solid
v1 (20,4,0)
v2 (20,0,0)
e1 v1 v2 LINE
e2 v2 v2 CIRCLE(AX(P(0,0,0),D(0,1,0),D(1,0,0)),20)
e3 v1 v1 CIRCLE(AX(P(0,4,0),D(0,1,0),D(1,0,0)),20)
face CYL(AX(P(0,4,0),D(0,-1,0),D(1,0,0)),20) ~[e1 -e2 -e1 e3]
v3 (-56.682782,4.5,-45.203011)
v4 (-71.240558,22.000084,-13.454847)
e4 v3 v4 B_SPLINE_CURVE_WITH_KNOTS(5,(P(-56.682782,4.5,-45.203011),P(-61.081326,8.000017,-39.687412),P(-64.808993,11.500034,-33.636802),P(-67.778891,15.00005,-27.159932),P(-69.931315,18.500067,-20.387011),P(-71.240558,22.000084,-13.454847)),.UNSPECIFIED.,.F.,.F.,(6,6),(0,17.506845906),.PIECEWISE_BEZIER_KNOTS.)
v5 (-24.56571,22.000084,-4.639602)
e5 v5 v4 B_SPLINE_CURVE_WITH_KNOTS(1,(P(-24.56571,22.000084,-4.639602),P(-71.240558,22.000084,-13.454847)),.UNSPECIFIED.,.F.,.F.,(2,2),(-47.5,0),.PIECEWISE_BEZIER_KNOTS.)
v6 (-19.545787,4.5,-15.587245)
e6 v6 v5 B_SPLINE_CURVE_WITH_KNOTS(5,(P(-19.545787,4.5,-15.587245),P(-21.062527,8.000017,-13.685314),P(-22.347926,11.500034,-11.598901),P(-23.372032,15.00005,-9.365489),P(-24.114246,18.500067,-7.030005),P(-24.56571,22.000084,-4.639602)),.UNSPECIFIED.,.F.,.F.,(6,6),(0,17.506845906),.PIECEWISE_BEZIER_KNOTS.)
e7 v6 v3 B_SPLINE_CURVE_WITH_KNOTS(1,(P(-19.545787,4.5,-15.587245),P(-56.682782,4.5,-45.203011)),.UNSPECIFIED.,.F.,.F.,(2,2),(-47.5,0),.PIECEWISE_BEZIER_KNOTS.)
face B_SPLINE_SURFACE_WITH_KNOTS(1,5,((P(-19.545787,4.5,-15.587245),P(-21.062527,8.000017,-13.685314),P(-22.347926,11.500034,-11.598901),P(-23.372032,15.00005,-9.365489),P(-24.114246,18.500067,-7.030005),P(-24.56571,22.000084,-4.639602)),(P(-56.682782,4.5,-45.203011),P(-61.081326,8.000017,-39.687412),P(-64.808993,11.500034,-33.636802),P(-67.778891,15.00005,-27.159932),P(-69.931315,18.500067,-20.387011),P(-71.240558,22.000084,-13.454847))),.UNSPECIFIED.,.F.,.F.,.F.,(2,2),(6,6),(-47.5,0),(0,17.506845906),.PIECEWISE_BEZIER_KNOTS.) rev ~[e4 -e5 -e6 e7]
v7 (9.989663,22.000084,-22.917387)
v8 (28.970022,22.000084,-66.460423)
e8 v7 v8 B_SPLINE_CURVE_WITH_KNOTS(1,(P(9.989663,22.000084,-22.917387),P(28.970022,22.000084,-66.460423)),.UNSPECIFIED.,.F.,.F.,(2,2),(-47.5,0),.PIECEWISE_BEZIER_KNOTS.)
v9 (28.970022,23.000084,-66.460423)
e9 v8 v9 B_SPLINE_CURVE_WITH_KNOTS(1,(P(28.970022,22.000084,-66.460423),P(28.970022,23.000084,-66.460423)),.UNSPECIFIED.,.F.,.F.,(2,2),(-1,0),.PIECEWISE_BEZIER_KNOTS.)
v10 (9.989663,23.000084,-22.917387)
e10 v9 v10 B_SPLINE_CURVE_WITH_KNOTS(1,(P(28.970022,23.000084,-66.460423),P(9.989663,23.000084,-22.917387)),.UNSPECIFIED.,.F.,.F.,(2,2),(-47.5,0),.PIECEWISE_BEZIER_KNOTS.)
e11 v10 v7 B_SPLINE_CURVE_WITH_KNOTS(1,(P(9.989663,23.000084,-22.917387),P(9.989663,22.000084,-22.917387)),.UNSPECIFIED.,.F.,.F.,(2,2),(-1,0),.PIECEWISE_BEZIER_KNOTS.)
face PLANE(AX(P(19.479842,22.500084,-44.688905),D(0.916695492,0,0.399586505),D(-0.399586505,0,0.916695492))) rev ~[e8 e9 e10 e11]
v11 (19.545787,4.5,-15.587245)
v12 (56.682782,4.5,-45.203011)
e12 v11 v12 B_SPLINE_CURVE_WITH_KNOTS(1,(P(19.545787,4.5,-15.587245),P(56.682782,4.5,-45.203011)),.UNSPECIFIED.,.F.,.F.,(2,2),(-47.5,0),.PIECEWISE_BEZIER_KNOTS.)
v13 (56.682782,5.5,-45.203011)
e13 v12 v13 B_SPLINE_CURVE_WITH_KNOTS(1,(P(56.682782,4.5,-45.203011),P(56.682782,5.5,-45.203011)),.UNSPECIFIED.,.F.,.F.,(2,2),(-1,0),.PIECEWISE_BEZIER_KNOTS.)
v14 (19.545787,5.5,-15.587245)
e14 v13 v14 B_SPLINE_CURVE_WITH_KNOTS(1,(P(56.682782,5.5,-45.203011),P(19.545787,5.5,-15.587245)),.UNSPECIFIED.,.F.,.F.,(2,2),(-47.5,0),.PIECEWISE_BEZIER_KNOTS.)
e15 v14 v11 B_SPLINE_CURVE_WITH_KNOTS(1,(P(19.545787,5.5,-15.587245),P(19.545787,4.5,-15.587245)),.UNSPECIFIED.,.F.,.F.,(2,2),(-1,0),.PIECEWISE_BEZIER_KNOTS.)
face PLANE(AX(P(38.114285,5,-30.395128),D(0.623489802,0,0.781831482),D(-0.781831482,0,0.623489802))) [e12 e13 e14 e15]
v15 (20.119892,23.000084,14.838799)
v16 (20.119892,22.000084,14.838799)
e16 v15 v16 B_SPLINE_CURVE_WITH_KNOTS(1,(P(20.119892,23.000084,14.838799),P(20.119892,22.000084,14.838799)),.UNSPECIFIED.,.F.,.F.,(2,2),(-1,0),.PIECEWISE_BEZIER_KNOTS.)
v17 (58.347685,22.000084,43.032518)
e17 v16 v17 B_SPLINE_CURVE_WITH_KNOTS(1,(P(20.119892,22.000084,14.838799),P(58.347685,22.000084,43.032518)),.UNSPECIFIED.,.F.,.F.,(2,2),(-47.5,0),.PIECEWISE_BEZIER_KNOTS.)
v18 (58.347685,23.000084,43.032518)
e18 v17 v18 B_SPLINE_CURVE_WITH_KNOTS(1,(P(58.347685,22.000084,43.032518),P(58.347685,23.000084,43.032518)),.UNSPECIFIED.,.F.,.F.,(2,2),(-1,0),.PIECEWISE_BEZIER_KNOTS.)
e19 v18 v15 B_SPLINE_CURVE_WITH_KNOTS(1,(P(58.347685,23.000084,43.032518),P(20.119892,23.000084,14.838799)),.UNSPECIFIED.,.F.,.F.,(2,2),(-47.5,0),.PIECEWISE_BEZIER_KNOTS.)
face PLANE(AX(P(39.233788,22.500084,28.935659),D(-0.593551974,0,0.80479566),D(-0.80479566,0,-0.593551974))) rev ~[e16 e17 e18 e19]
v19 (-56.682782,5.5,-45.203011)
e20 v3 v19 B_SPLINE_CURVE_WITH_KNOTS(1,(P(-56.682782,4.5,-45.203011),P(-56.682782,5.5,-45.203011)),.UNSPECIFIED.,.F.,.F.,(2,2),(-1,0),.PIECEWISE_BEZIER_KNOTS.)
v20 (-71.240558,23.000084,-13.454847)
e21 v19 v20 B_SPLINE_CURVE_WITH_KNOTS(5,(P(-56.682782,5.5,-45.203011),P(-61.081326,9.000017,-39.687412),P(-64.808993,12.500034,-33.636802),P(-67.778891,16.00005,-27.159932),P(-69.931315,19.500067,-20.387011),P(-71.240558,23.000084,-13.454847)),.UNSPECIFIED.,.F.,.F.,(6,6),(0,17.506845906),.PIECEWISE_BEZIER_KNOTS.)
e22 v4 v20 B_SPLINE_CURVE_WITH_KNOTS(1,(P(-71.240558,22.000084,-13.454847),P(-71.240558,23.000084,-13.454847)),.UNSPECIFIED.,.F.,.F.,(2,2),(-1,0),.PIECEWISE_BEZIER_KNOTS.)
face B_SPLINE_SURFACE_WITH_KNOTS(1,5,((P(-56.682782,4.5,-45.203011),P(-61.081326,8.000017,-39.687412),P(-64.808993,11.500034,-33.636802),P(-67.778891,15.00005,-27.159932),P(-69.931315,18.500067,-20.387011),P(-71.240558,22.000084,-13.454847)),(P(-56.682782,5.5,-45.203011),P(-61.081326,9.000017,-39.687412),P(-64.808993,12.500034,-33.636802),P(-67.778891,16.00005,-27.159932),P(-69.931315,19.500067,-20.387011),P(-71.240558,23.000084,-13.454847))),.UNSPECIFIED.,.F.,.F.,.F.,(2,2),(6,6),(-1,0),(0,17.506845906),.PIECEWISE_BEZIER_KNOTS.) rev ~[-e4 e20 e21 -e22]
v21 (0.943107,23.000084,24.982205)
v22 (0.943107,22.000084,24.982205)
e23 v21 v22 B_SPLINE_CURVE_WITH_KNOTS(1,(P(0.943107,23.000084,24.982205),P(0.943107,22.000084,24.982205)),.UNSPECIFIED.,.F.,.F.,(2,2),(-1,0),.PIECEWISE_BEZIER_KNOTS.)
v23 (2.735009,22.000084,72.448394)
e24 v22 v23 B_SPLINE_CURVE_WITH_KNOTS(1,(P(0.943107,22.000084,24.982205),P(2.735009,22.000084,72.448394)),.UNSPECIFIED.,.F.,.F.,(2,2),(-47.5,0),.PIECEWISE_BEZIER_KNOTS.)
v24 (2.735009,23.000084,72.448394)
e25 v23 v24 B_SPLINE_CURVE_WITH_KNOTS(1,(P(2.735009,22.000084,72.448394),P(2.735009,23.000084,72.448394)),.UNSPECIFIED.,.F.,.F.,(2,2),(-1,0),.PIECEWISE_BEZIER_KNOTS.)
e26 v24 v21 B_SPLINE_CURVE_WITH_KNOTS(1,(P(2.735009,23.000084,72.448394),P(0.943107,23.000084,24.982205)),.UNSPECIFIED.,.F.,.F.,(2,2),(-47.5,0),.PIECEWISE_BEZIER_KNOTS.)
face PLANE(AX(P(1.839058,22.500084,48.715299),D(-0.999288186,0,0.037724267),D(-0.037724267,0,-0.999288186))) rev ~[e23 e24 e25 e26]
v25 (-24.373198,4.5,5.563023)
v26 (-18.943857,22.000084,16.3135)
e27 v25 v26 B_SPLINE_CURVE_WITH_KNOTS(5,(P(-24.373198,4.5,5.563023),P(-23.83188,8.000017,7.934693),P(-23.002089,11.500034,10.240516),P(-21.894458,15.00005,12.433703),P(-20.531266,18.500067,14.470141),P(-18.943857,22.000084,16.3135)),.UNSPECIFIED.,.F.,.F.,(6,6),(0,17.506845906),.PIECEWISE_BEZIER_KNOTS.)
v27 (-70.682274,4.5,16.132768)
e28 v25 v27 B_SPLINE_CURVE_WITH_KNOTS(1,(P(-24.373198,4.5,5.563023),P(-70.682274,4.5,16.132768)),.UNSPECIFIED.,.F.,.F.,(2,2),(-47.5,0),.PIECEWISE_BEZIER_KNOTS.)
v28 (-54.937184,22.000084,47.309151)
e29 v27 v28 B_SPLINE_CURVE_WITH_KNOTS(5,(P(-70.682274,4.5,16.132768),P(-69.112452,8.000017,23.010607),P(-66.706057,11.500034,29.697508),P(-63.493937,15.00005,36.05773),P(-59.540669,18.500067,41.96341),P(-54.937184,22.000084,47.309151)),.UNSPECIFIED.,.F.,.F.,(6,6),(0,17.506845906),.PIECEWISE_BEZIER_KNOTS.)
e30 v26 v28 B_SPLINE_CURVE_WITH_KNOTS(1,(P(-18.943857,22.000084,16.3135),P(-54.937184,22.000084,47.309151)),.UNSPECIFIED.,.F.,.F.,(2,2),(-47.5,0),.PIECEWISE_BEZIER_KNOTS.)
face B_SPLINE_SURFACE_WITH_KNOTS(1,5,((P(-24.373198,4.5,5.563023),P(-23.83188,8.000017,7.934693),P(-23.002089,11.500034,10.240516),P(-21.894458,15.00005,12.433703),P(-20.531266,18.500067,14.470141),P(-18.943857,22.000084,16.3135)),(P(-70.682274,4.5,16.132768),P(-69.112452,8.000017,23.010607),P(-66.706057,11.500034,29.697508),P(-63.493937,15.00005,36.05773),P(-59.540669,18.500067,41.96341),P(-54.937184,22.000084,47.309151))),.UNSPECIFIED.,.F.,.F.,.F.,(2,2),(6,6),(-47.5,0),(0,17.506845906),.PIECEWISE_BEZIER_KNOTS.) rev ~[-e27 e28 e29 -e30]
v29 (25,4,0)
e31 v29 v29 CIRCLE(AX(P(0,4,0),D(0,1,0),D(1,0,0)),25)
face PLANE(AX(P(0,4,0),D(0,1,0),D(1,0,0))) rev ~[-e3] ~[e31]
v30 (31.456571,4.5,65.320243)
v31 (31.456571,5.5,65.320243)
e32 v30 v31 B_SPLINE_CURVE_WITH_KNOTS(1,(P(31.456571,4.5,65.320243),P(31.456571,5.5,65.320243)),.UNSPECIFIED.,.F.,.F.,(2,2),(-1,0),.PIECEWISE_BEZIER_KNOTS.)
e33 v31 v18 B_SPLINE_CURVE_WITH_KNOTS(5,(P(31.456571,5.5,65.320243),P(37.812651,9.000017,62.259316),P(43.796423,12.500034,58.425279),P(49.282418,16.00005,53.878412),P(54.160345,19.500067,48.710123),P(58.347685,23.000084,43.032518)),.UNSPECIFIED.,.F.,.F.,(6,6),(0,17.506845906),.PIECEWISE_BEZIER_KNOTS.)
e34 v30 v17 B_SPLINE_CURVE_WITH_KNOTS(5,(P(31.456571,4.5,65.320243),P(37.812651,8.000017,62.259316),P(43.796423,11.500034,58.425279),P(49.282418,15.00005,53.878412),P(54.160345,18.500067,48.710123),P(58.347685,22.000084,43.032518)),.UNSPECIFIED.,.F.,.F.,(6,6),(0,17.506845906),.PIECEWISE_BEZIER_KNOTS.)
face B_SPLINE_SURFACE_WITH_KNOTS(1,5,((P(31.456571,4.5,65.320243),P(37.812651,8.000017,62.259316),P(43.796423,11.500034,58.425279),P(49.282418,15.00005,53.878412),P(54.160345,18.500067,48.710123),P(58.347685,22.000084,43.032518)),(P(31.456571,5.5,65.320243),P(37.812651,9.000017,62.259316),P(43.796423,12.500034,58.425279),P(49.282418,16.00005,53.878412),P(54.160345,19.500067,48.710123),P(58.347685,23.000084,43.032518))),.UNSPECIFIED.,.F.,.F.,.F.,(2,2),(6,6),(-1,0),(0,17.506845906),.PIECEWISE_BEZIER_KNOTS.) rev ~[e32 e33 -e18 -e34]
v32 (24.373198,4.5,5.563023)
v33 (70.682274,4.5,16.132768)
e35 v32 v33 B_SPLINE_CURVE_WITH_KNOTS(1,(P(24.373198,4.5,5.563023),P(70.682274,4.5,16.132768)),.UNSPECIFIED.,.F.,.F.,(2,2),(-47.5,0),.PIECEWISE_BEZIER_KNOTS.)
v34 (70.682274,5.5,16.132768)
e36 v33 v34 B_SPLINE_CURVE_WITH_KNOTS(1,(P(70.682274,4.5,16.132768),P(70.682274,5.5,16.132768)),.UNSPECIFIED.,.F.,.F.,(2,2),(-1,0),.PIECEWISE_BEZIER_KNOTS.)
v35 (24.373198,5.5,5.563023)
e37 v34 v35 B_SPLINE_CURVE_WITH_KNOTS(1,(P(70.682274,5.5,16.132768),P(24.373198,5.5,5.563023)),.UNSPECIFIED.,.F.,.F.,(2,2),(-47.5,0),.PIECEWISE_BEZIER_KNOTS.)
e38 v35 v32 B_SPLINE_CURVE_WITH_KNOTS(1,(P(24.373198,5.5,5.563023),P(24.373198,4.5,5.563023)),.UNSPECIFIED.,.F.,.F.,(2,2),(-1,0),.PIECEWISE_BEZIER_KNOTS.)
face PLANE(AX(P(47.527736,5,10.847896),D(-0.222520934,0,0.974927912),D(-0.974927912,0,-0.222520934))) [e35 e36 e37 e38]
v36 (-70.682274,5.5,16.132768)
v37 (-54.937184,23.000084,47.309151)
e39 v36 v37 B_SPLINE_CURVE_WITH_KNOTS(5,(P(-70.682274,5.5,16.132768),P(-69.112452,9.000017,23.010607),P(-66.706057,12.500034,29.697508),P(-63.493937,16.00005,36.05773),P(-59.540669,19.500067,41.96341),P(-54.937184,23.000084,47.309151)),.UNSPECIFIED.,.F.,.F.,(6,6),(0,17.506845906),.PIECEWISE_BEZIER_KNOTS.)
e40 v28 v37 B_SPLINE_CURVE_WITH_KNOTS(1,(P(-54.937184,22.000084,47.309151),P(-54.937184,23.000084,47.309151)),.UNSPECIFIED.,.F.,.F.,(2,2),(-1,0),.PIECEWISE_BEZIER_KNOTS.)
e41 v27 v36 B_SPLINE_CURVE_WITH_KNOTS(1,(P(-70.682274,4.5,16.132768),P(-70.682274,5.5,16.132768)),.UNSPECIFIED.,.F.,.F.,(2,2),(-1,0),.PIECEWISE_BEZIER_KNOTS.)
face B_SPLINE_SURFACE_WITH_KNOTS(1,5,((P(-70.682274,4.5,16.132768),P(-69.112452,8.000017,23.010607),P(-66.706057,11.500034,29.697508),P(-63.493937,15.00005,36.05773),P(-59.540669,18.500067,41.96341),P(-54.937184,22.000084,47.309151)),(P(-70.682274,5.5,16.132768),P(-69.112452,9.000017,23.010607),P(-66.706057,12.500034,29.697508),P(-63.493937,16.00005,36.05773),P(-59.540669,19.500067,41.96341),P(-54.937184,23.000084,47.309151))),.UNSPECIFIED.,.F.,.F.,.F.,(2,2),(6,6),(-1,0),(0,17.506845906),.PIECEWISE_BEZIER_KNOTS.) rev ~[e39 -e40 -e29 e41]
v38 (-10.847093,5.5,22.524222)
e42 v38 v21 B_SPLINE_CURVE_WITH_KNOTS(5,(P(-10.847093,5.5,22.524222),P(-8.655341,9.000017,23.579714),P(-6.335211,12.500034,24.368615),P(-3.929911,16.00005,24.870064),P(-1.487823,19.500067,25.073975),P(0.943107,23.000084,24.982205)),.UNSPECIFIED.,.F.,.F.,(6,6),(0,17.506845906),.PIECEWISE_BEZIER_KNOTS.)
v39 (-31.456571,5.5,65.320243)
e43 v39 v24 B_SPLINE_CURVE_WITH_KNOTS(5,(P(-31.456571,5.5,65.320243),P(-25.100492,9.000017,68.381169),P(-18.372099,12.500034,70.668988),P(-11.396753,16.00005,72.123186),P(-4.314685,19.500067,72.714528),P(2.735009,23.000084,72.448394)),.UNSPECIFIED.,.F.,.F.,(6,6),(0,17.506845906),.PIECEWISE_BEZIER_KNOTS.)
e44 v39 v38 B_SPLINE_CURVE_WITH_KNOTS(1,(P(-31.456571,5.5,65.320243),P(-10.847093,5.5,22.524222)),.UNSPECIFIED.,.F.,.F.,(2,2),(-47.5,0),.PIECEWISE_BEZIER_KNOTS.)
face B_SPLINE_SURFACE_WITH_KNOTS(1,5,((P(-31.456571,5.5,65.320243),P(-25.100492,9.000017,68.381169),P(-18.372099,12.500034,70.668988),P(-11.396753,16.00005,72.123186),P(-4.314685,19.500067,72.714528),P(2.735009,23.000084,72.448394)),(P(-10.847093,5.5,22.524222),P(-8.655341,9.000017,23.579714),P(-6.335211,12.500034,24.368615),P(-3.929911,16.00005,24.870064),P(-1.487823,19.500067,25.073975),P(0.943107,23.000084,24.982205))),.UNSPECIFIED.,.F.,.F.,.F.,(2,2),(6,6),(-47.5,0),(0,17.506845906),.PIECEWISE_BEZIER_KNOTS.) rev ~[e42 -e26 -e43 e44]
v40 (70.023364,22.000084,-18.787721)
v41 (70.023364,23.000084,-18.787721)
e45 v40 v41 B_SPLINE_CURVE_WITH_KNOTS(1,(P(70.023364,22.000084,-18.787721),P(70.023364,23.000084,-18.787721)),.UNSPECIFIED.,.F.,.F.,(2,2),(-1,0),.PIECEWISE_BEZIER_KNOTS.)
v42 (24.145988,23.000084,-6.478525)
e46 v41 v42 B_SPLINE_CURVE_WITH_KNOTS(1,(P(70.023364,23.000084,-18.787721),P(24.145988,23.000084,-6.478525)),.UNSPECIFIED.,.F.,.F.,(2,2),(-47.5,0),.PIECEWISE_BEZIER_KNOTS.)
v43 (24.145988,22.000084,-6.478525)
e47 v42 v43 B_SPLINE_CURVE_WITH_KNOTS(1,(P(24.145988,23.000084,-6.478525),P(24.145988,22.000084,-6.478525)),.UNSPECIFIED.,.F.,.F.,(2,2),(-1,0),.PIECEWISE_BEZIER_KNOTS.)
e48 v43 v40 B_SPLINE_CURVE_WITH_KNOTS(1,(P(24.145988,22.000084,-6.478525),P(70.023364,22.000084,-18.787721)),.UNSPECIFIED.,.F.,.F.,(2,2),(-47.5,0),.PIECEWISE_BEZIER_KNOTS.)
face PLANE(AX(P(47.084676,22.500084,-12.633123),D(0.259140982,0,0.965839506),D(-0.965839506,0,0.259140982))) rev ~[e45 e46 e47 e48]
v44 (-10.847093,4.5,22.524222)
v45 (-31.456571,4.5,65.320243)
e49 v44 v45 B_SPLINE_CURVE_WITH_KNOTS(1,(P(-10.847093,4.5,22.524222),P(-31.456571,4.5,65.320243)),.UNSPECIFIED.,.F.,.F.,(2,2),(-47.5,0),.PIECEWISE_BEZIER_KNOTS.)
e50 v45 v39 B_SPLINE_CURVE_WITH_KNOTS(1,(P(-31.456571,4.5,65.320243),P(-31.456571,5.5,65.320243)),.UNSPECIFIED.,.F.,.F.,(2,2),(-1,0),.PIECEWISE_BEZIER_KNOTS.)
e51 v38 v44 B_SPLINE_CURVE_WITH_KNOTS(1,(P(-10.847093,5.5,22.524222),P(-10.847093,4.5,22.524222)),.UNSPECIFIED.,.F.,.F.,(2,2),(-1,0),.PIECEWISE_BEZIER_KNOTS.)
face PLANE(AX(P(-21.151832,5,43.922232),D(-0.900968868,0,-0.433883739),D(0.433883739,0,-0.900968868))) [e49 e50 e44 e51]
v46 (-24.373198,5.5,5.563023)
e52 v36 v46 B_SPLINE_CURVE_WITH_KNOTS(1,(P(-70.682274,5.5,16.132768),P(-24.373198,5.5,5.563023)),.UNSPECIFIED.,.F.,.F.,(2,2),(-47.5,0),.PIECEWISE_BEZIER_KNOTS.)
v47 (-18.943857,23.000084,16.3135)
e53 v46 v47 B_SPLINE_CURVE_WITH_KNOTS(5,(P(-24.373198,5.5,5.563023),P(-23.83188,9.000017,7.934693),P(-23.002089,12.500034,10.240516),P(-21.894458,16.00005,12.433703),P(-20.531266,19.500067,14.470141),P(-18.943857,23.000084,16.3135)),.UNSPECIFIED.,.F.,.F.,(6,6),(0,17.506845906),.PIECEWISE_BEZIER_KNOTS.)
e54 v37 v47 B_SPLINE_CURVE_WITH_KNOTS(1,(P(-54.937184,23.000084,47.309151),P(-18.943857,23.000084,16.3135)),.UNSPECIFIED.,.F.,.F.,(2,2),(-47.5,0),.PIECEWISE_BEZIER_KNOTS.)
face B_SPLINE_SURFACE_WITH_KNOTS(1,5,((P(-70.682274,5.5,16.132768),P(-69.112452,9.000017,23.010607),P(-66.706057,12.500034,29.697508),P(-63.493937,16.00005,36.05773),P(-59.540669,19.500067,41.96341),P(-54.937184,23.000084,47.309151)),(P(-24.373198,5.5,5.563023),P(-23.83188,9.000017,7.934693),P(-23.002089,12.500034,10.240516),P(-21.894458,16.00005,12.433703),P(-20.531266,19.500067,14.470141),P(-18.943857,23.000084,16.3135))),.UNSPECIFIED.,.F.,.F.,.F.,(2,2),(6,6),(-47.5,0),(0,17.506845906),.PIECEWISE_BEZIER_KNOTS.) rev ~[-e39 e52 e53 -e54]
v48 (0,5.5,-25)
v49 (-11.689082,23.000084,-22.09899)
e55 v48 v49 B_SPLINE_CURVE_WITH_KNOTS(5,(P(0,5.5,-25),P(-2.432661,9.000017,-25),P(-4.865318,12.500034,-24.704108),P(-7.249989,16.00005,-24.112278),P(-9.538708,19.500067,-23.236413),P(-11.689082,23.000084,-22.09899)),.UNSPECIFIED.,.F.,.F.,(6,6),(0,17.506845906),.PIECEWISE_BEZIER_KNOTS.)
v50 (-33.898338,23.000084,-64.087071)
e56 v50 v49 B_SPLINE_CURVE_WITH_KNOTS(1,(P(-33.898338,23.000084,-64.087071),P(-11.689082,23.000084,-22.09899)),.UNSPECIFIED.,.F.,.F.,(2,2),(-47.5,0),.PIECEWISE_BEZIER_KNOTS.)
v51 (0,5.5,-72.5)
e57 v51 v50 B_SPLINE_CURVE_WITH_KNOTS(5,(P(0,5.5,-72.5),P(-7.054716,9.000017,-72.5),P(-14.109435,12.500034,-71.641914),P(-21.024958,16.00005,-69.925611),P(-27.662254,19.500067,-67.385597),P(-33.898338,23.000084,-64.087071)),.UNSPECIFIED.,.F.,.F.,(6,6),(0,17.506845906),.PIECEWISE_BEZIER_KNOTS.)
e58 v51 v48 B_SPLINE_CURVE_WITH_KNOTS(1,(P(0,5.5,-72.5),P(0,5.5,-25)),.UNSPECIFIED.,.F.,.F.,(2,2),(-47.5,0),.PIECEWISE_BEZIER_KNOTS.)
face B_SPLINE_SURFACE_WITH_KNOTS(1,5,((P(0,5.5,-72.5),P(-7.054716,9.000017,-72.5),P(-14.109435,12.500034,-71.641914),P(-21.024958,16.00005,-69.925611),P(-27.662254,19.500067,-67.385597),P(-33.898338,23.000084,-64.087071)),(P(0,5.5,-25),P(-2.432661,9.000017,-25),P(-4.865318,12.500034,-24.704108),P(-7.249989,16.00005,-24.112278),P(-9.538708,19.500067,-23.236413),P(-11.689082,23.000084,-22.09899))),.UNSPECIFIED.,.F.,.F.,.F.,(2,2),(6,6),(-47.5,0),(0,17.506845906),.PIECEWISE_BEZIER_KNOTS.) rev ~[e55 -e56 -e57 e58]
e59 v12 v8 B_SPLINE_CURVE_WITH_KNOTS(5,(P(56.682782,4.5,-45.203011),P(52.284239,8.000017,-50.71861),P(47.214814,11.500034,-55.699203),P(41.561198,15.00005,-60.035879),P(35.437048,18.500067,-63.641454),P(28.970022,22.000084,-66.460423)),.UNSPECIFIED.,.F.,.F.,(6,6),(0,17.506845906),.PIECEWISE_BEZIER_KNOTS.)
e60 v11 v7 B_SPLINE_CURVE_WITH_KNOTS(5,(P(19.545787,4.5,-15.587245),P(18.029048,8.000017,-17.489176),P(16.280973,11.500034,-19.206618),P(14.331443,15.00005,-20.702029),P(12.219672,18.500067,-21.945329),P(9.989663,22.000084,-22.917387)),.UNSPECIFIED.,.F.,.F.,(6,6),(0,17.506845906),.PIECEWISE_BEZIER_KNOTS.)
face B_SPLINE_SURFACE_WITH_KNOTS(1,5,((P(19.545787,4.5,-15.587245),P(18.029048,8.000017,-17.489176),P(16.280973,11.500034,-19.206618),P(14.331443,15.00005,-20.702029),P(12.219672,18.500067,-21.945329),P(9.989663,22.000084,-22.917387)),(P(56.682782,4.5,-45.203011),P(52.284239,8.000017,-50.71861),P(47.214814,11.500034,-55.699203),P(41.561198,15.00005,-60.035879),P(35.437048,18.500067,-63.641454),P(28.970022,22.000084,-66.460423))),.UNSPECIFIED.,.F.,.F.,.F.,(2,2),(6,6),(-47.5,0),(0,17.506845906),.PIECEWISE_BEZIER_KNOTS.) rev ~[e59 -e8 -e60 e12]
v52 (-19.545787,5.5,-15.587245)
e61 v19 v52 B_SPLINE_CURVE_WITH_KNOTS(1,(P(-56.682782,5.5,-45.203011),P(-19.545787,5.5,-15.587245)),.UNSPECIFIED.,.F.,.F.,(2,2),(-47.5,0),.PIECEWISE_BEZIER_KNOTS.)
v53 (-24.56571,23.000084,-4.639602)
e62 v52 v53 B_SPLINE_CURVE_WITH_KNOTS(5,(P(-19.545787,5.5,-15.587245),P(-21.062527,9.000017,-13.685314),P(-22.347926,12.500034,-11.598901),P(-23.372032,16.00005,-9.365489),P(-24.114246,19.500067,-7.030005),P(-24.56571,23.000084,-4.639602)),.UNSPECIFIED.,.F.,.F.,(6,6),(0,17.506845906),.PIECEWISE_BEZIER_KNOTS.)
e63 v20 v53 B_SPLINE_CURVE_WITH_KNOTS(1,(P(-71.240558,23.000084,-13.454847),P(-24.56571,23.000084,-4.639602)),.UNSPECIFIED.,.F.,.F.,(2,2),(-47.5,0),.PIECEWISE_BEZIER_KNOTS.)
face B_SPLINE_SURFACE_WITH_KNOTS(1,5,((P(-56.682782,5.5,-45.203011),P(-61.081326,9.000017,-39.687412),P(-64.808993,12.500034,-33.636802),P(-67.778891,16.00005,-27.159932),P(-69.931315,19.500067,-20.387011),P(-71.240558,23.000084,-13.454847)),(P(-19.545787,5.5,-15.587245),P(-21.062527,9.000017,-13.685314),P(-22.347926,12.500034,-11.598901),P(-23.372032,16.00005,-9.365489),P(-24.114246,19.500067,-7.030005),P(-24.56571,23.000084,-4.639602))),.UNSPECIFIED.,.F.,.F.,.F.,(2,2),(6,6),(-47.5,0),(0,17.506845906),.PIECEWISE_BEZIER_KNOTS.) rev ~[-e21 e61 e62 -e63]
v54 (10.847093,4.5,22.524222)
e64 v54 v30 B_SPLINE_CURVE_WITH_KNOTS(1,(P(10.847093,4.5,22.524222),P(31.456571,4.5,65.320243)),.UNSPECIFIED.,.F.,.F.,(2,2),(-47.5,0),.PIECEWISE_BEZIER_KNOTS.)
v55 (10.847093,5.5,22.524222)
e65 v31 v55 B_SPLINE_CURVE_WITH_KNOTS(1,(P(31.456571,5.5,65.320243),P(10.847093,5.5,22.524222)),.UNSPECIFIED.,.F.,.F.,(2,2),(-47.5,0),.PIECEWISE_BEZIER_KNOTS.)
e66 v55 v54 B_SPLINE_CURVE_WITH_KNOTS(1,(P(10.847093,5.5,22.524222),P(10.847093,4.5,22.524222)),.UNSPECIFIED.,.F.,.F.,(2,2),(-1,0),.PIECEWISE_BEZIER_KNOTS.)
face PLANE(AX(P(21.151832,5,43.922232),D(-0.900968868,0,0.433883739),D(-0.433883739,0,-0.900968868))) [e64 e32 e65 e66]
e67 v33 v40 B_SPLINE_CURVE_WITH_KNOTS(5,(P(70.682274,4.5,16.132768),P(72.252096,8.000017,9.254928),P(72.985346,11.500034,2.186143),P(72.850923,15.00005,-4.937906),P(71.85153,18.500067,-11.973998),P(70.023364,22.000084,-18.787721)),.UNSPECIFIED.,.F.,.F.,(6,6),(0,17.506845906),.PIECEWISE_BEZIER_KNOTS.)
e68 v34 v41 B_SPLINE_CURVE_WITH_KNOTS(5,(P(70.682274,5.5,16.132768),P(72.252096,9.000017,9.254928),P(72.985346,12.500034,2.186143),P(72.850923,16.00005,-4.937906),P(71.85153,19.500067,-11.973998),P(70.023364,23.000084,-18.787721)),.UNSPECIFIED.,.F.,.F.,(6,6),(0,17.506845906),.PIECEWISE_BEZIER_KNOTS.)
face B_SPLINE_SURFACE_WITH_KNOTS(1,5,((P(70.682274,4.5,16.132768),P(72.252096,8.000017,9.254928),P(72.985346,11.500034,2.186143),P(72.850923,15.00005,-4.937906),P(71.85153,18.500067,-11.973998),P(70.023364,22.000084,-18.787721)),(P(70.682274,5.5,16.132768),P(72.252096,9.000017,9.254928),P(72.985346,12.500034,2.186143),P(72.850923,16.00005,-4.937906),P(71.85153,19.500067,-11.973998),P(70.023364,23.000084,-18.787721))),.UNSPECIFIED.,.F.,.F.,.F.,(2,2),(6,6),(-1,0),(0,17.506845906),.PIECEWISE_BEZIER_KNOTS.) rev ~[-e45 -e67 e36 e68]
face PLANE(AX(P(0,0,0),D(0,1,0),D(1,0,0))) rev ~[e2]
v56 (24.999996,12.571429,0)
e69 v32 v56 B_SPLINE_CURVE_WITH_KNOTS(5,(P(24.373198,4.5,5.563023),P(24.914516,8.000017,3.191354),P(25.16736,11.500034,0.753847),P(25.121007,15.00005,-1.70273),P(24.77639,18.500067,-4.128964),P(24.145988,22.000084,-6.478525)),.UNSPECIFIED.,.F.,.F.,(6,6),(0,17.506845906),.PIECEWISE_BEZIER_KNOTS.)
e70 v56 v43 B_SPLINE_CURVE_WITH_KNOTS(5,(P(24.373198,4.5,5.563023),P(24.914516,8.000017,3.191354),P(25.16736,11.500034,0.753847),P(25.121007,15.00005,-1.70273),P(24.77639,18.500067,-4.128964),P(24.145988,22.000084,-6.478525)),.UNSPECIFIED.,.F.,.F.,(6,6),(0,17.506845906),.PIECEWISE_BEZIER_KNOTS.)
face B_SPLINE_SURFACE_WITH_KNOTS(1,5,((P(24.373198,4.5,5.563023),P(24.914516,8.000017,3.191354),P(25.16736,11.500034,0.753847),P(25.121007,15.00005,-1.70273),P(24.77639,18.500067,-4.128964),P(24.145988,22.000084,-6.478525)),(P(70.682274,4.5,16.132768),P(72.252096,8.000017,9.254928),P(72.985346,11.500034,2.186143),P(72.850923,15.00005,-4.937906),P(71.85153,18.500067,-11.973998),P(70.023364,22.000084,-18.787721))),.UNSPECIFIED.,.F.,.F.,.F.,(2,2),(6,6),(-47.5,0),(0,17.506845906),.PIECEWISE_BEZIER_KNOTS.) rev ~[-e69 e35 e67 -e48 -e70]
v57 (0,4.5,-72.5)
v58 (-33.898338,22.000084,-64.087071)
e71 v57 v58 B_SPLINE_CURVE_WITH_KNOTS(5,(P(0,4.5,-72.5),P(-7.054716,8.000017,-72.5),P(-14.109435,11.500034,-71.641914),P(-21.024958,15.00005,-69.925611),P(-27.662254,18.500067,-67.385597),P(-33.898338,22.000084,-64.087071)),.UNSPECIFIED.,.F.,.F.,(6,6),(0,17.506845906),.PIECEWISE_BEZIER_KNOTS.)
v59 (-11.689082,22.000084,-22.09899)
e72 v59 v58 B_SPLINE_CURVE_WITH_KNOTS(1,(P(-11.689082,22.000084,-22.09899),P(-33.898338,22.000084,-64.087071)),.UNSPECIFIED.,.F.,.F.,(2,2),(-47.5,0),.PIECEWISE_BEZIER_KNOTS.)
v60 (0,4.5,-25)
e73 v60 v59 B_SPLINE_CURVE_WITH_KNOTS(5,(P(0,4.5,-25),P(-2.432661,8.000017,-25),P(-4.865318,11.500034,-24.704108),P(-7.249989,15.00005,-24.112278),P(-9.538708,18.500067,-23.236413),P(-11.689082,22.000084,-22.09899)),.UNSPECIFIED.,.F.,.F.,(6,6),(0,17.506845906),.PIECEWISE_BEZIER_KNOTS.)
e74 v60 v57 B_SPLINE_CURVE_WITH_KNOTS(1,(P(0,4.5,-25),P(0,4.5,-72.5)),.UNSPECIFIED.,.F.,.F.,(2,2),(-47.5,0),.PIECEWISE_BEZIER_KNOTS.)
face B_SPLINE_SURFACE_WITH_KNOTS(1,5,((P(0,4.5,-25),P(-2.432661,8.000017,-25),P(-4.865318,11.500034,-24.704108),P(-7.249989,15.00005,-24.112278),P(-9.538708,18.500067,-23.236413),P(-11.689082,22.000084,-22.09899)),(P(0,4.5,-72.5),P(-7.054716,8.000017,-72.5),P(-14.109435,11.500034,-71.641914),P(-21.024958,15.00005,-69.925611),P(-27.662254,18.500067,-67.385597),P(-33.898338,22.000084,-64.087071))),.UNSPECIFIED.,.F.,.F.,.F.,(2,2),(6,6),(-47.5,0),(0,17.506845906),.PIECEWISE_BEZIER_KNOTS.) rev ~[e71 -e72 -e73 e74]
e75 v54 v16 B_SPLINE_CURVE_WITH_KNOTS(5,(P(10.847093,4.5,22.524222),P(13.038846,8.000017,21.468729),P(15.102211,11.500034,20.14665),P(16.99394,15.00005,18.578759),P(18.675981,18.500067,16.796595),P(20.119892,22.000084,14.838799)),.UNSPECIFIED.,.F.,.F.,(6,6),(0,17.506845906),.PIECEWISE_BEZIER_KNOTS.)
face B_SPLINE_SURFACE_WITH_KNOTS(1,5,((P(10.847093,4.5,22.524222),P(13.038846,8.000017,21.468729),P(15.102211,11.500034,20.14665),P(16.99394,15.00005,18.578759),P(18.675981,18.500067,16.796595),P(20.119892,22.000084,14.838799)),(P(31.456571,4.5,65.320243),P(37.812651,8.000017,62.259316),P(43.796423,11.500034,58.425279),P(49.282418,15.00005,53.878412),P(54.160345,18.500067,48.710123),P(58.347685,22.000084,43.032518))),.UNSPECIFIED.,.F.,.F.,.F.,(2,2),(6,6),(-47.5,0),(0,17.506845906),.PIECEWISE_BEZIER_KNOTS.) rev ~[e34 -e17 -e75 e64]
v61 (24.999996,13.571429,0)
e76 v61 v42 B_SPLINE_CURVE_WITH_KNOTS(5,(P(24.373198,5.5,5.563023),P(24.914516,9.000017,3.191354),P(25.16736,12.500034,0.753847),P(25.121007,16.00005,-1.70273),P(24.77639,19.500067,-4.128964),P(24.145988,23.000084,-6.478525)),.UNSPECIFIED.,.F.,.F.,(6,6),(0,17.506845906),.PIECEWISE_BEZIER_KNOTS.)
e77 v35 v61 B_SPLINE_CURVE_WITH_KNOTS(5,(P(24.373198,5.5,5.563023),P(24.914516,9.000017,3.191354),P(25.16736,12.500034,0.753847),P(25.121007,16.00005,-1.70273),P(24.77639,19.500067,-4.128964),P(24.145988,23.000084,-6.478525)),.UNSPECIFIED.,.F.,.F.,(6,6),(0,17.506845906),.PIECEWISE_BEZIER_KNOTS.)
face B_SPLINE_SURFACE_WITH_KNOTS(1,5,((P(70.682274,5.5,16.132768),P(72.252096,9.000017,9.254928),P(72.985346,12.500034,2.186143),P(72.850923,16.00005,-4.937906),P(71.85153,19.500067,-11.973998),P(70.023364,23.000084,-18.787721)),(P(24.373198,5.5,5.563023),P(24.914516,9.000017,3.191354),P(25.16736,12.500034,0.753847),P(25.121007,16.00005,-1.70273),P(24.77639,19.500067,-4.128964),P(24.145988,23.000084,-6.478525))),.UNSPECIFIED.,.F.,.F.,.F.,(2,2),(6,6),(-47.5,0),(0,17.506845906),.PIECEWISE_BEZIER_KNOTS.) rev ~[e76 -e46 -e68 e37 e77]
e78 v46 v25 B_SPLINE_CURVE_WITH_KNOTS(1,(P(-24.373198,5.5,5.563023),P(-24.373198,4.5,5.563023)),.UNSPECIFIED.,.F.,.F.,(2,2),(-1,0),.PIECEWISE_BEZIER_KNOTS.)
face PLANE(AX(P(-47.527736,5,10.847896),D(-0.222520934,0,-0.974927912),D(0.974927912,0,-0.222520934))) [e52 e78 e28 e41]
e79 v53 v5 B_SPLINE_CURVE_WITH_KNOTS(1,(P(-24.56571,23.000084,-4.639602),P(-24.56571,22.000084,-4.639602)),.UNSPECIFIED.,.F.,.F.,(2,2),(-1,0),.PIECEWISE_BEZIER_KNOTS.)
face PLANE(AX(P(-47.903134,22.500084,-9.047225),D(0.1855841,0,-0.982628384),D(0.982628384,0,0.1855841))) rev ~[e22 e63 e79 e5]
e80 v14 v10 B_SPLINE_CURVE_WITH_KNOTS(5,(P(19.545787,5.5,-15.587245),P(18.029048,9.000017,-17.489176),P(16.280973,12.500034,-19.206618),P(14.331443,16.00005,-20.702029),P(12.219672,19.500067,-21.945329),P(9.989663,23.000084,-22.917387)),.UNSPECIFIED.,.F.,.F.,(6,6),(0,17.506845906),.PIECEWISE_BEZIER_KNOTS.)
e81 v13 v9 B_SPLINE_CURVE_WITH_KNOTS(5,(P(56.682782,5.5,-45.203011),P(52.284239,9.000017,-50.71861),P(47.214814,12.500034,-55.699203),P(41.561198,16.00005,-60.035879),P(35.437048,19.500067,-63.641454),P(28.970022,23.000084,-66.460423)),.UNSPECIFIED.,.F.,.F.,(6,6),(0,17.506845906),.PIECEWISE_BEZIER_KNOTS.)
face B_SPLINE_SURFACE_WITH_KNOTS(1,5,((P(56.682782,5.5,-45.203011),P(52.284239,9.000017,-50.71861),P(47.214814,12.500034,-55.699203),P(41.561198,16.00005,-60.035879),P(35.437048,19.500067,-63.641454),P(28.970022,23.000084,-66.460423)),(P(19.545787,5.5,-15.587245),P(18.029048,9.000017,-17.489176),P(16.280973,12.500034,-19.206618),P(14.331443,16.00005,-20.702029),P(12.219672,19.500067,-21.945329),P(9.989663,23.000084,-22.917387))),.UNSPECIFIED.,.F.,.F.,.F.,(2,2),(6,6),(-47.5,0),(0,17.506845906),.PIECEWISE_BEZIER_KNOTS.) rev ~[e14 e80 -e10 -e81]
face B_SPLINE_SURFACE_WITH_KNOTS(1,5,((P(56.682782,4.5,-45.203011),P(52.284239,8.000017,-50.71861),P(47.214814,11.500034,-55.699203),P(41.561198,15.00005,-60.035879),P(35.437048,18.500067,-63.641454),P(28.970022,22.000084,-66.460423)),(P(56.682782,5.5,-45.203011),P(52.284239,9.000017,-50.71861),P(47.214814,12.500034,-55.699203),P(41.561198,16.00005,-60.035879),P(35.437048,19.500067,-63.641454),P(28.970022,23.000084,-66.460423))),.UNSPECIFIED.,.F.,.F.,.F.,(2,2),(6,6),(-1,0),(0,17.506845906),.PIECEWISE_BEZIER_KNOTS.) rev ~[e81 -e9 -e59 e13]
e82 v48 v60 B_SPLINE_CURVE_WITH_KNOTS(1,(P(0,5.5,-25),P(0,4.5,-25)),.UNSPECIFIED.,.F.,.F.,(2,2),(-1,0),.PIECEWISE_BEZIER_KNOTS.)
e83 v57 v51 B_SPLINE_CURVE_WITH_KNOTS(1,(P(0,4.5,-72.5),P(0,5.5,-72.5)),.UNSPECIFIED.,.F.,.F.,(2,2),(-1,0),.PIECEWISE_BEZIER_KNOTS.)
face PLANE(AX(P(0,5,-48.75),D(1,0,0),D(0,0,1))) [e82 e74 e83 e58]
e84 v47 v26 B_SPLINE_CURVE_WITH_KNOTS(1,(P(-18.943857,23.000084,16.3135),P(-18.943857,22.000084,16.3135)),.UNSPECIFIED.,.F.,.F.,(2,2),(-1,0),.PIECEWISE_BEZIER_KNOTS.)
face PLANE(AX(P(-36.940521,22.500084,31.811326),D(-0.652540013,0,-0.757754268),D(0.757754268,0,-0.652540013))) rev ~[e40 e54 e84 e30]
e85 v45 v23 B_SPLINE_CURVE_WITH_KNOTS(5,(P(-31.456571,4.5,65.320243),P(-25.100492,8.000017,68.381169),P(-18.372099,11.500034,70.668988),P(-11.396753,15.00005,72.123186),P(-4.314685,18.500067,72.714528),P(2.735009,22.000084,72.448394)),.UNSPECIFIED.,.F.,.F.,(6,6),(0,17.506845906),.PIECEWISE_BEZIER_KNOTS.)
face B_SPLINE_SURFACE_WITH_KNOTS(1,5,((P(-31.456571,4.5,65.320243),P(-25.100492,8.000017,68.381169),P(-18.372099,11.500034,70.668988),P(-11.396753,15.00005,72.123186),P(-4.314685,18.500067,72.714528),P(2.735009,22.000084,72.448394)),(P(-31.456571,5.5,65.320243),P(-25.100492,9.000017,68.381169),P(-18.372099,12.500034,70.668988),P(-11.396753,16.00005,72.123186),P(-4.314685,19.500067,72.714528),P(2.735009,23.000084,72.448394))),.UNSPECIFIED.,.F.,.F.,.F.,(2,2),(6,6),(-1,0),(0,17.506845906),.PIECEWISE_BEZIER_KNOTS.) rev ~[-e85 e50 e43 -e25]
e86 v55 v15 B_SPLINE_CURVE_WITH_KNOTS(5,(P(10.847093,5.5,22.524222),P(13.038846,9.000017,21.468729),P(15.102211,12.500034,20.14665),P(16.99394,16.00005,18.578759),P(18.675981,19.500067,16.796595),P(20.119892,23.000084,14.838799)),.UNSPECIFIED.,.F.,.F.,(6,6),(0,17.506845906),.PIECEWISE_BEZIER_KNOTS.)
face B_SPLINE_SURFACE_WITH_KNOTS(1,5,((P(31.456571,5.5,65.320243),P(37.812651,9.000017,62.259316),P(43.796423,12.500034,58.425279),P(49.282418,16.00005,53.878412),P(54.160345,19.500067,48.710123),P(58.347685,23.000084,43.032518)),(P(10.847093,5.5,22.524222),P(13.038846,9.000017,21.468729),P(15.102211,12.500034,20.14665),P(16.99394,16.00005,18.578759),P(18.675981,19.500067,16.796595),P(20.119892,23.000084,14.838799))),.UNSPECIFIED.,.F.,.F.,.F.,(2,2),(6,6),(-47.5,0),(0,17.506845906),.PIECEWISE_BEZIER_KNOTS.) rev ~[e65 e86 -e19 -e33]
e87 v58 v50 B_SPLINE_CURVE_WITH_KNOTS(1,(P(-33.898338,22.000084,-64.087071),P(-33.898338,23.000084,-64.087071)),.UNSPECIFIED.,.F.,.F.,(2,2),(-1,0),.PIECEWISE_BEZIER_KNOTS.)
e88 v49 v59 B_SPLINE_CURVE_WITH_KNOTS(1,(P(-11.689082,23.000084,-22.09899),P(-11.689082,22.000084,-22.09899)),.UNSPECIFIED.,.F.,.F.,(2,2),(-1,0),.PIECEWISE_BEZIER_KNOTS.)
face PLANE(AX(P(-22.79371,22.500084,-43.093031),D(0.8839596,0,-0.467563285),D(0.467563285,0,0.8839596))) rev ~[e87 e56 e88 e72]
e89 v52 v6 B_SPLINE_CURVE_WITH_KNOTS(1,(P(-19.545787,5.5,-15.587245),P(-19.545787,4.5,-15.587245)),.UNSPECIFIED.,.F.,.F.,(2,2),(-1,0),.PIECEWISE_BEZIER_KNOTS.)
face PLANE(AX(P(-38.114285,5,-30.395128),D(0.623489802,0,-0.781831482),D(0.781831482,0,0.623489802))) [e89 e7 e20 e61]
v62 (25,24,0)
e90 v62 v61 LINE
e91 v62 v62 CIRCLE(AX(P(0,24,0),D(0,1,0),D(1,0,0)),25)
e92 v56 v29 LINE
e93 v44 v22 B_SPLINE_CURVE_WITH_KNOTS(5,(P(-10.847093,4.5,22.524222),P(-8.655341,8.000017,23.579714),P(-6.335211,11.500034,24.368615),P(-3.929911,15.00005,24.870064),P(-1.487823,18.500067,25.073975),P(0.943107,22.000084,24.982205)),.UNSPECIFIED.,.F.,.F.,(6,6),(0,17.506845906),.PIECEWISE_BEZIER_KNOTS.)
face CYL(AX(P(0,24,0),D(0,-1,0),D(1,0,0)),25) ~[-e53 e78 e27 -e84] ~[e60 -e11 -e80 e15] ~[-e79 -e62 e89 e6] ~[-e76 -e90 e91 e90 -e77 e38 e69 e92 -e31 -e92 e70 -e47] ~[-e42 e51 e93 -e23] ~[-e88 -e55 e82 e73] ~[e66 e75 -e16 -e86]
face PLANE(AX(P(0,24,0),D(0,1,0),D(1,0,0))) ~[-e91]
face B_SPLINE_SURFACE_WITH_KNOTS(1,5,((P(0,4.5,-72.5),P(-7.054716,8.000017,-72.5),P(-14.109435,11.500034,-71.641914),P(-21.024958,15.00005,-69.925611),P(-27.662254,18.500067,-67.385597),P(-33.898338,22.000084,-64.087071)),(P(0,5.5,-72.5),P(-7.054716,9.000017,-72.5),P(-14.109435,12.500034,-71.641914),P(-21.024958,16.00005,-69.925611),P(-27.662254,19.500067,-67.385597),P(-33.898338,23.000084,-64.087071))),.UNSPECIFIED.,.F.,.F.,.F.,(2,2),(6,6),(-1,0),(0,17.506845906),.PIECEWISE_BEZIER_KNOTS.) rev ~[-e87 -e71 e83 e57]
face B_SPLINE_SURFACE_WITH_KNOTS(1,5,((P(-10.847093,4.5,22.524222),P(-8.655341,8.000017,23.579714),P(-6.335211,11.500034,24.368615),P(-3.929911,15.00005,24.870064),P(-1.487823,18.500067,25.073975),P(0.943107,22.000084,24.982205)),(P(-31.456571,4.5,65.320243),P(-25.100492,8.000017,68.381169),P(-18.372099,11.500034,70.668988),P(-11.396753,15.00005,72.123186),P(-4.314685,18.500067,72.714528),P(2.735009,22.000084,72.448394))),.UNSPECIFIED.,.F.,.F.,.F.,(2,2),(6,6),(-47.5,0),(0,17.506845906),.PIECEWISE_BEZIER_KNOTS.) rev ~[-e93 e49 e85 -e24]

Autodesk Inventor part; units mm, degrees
ref_plane "YZ Plane" through (0, 0, 0) normal (1, 0, 0) x (0, 1, 0)
ref_plane "XZ Plane" through (0, 0, 0) normal (0, 1, 0) x (-1, 0, 0)
ref_plane "XY Plane" through (0, 0, 0) normal (0, 0, 1) x (1, 0, 0)
sketch "Sketch1" plane through (0, 0, 0) normal (0, 0, 1) x (1, 0, 0)
  line L0 (0, 0) -> (0, 24)
  line L1 (0, 24) -> (25, 24)
  line L2 (25, 24) -> (25, 4)
  line L3 (25, 4) -> (20, 4)
  line L4 (20, 4) -> (20, 0)
  line L5 (20, 0) -> (0, 0)
  line L6 (0, -4.8611) -> (0, 32.7303) construction
  dimension "d0" = 25
  dimension "d1" = 20
  dimension "d2" = 4
  dimension "d4" = 5
revolve "Revolution1" add sketch "Sketch1" angle 360 about axis through (0, -4.8611, 0) along (0, 1, 0)
sketch "Sketch9" plane through (0, 0, 0) normal (1, 0, 0) x (0, 1, 0)
  line L0 (0, 0) -> (-39.5663, 0) construction
  line L1 (4.5, -25) -> (5.5, -25)
  line L2 (5.5, -25) -> (5.5, -72.5)
  line L3 (5.5, -72.5) -> (4.5, -72.5)
  line L4 (4.5, -72.5) -> (4.5, -25)
  line L5 (0, -20) -> (0, 20) projected
  dimension "d28" = 1
  dimension "d29" = 25
  dimension "d30" = 4.5
  dimension "d31" = 47.5
coil "Coil1" sketch "Sketch9" operation add axis through (0, 0, 0) along (0, 1, 0) pitch 226 turns 0.077434 hand right
pattern_circular "Circular Pattern1" count 7 over 360 about axis through (0, 14, 0) along (0, 1, 0) of "Coil1"
equation "\"BendRadius\" = Thickness"
equation "\"BendReliefWidth\" = Thickness"
equation "\"BendReliefDepth\" = 0.5 * Thickness"
equation "\"CornerReliefSize\" = 4 * Thickness"
equation "\"MinimumRemnant\" = 2 * Thickness"
equation "\"TransitionRadius\" = BendRadius"
equation "\"JacobiRadiusSize\" = BendRadius"
equation "\"GapSize\" = Thickness"
equation "\"Thickness\" = 0.5"
properties part number "Ventoinha"
